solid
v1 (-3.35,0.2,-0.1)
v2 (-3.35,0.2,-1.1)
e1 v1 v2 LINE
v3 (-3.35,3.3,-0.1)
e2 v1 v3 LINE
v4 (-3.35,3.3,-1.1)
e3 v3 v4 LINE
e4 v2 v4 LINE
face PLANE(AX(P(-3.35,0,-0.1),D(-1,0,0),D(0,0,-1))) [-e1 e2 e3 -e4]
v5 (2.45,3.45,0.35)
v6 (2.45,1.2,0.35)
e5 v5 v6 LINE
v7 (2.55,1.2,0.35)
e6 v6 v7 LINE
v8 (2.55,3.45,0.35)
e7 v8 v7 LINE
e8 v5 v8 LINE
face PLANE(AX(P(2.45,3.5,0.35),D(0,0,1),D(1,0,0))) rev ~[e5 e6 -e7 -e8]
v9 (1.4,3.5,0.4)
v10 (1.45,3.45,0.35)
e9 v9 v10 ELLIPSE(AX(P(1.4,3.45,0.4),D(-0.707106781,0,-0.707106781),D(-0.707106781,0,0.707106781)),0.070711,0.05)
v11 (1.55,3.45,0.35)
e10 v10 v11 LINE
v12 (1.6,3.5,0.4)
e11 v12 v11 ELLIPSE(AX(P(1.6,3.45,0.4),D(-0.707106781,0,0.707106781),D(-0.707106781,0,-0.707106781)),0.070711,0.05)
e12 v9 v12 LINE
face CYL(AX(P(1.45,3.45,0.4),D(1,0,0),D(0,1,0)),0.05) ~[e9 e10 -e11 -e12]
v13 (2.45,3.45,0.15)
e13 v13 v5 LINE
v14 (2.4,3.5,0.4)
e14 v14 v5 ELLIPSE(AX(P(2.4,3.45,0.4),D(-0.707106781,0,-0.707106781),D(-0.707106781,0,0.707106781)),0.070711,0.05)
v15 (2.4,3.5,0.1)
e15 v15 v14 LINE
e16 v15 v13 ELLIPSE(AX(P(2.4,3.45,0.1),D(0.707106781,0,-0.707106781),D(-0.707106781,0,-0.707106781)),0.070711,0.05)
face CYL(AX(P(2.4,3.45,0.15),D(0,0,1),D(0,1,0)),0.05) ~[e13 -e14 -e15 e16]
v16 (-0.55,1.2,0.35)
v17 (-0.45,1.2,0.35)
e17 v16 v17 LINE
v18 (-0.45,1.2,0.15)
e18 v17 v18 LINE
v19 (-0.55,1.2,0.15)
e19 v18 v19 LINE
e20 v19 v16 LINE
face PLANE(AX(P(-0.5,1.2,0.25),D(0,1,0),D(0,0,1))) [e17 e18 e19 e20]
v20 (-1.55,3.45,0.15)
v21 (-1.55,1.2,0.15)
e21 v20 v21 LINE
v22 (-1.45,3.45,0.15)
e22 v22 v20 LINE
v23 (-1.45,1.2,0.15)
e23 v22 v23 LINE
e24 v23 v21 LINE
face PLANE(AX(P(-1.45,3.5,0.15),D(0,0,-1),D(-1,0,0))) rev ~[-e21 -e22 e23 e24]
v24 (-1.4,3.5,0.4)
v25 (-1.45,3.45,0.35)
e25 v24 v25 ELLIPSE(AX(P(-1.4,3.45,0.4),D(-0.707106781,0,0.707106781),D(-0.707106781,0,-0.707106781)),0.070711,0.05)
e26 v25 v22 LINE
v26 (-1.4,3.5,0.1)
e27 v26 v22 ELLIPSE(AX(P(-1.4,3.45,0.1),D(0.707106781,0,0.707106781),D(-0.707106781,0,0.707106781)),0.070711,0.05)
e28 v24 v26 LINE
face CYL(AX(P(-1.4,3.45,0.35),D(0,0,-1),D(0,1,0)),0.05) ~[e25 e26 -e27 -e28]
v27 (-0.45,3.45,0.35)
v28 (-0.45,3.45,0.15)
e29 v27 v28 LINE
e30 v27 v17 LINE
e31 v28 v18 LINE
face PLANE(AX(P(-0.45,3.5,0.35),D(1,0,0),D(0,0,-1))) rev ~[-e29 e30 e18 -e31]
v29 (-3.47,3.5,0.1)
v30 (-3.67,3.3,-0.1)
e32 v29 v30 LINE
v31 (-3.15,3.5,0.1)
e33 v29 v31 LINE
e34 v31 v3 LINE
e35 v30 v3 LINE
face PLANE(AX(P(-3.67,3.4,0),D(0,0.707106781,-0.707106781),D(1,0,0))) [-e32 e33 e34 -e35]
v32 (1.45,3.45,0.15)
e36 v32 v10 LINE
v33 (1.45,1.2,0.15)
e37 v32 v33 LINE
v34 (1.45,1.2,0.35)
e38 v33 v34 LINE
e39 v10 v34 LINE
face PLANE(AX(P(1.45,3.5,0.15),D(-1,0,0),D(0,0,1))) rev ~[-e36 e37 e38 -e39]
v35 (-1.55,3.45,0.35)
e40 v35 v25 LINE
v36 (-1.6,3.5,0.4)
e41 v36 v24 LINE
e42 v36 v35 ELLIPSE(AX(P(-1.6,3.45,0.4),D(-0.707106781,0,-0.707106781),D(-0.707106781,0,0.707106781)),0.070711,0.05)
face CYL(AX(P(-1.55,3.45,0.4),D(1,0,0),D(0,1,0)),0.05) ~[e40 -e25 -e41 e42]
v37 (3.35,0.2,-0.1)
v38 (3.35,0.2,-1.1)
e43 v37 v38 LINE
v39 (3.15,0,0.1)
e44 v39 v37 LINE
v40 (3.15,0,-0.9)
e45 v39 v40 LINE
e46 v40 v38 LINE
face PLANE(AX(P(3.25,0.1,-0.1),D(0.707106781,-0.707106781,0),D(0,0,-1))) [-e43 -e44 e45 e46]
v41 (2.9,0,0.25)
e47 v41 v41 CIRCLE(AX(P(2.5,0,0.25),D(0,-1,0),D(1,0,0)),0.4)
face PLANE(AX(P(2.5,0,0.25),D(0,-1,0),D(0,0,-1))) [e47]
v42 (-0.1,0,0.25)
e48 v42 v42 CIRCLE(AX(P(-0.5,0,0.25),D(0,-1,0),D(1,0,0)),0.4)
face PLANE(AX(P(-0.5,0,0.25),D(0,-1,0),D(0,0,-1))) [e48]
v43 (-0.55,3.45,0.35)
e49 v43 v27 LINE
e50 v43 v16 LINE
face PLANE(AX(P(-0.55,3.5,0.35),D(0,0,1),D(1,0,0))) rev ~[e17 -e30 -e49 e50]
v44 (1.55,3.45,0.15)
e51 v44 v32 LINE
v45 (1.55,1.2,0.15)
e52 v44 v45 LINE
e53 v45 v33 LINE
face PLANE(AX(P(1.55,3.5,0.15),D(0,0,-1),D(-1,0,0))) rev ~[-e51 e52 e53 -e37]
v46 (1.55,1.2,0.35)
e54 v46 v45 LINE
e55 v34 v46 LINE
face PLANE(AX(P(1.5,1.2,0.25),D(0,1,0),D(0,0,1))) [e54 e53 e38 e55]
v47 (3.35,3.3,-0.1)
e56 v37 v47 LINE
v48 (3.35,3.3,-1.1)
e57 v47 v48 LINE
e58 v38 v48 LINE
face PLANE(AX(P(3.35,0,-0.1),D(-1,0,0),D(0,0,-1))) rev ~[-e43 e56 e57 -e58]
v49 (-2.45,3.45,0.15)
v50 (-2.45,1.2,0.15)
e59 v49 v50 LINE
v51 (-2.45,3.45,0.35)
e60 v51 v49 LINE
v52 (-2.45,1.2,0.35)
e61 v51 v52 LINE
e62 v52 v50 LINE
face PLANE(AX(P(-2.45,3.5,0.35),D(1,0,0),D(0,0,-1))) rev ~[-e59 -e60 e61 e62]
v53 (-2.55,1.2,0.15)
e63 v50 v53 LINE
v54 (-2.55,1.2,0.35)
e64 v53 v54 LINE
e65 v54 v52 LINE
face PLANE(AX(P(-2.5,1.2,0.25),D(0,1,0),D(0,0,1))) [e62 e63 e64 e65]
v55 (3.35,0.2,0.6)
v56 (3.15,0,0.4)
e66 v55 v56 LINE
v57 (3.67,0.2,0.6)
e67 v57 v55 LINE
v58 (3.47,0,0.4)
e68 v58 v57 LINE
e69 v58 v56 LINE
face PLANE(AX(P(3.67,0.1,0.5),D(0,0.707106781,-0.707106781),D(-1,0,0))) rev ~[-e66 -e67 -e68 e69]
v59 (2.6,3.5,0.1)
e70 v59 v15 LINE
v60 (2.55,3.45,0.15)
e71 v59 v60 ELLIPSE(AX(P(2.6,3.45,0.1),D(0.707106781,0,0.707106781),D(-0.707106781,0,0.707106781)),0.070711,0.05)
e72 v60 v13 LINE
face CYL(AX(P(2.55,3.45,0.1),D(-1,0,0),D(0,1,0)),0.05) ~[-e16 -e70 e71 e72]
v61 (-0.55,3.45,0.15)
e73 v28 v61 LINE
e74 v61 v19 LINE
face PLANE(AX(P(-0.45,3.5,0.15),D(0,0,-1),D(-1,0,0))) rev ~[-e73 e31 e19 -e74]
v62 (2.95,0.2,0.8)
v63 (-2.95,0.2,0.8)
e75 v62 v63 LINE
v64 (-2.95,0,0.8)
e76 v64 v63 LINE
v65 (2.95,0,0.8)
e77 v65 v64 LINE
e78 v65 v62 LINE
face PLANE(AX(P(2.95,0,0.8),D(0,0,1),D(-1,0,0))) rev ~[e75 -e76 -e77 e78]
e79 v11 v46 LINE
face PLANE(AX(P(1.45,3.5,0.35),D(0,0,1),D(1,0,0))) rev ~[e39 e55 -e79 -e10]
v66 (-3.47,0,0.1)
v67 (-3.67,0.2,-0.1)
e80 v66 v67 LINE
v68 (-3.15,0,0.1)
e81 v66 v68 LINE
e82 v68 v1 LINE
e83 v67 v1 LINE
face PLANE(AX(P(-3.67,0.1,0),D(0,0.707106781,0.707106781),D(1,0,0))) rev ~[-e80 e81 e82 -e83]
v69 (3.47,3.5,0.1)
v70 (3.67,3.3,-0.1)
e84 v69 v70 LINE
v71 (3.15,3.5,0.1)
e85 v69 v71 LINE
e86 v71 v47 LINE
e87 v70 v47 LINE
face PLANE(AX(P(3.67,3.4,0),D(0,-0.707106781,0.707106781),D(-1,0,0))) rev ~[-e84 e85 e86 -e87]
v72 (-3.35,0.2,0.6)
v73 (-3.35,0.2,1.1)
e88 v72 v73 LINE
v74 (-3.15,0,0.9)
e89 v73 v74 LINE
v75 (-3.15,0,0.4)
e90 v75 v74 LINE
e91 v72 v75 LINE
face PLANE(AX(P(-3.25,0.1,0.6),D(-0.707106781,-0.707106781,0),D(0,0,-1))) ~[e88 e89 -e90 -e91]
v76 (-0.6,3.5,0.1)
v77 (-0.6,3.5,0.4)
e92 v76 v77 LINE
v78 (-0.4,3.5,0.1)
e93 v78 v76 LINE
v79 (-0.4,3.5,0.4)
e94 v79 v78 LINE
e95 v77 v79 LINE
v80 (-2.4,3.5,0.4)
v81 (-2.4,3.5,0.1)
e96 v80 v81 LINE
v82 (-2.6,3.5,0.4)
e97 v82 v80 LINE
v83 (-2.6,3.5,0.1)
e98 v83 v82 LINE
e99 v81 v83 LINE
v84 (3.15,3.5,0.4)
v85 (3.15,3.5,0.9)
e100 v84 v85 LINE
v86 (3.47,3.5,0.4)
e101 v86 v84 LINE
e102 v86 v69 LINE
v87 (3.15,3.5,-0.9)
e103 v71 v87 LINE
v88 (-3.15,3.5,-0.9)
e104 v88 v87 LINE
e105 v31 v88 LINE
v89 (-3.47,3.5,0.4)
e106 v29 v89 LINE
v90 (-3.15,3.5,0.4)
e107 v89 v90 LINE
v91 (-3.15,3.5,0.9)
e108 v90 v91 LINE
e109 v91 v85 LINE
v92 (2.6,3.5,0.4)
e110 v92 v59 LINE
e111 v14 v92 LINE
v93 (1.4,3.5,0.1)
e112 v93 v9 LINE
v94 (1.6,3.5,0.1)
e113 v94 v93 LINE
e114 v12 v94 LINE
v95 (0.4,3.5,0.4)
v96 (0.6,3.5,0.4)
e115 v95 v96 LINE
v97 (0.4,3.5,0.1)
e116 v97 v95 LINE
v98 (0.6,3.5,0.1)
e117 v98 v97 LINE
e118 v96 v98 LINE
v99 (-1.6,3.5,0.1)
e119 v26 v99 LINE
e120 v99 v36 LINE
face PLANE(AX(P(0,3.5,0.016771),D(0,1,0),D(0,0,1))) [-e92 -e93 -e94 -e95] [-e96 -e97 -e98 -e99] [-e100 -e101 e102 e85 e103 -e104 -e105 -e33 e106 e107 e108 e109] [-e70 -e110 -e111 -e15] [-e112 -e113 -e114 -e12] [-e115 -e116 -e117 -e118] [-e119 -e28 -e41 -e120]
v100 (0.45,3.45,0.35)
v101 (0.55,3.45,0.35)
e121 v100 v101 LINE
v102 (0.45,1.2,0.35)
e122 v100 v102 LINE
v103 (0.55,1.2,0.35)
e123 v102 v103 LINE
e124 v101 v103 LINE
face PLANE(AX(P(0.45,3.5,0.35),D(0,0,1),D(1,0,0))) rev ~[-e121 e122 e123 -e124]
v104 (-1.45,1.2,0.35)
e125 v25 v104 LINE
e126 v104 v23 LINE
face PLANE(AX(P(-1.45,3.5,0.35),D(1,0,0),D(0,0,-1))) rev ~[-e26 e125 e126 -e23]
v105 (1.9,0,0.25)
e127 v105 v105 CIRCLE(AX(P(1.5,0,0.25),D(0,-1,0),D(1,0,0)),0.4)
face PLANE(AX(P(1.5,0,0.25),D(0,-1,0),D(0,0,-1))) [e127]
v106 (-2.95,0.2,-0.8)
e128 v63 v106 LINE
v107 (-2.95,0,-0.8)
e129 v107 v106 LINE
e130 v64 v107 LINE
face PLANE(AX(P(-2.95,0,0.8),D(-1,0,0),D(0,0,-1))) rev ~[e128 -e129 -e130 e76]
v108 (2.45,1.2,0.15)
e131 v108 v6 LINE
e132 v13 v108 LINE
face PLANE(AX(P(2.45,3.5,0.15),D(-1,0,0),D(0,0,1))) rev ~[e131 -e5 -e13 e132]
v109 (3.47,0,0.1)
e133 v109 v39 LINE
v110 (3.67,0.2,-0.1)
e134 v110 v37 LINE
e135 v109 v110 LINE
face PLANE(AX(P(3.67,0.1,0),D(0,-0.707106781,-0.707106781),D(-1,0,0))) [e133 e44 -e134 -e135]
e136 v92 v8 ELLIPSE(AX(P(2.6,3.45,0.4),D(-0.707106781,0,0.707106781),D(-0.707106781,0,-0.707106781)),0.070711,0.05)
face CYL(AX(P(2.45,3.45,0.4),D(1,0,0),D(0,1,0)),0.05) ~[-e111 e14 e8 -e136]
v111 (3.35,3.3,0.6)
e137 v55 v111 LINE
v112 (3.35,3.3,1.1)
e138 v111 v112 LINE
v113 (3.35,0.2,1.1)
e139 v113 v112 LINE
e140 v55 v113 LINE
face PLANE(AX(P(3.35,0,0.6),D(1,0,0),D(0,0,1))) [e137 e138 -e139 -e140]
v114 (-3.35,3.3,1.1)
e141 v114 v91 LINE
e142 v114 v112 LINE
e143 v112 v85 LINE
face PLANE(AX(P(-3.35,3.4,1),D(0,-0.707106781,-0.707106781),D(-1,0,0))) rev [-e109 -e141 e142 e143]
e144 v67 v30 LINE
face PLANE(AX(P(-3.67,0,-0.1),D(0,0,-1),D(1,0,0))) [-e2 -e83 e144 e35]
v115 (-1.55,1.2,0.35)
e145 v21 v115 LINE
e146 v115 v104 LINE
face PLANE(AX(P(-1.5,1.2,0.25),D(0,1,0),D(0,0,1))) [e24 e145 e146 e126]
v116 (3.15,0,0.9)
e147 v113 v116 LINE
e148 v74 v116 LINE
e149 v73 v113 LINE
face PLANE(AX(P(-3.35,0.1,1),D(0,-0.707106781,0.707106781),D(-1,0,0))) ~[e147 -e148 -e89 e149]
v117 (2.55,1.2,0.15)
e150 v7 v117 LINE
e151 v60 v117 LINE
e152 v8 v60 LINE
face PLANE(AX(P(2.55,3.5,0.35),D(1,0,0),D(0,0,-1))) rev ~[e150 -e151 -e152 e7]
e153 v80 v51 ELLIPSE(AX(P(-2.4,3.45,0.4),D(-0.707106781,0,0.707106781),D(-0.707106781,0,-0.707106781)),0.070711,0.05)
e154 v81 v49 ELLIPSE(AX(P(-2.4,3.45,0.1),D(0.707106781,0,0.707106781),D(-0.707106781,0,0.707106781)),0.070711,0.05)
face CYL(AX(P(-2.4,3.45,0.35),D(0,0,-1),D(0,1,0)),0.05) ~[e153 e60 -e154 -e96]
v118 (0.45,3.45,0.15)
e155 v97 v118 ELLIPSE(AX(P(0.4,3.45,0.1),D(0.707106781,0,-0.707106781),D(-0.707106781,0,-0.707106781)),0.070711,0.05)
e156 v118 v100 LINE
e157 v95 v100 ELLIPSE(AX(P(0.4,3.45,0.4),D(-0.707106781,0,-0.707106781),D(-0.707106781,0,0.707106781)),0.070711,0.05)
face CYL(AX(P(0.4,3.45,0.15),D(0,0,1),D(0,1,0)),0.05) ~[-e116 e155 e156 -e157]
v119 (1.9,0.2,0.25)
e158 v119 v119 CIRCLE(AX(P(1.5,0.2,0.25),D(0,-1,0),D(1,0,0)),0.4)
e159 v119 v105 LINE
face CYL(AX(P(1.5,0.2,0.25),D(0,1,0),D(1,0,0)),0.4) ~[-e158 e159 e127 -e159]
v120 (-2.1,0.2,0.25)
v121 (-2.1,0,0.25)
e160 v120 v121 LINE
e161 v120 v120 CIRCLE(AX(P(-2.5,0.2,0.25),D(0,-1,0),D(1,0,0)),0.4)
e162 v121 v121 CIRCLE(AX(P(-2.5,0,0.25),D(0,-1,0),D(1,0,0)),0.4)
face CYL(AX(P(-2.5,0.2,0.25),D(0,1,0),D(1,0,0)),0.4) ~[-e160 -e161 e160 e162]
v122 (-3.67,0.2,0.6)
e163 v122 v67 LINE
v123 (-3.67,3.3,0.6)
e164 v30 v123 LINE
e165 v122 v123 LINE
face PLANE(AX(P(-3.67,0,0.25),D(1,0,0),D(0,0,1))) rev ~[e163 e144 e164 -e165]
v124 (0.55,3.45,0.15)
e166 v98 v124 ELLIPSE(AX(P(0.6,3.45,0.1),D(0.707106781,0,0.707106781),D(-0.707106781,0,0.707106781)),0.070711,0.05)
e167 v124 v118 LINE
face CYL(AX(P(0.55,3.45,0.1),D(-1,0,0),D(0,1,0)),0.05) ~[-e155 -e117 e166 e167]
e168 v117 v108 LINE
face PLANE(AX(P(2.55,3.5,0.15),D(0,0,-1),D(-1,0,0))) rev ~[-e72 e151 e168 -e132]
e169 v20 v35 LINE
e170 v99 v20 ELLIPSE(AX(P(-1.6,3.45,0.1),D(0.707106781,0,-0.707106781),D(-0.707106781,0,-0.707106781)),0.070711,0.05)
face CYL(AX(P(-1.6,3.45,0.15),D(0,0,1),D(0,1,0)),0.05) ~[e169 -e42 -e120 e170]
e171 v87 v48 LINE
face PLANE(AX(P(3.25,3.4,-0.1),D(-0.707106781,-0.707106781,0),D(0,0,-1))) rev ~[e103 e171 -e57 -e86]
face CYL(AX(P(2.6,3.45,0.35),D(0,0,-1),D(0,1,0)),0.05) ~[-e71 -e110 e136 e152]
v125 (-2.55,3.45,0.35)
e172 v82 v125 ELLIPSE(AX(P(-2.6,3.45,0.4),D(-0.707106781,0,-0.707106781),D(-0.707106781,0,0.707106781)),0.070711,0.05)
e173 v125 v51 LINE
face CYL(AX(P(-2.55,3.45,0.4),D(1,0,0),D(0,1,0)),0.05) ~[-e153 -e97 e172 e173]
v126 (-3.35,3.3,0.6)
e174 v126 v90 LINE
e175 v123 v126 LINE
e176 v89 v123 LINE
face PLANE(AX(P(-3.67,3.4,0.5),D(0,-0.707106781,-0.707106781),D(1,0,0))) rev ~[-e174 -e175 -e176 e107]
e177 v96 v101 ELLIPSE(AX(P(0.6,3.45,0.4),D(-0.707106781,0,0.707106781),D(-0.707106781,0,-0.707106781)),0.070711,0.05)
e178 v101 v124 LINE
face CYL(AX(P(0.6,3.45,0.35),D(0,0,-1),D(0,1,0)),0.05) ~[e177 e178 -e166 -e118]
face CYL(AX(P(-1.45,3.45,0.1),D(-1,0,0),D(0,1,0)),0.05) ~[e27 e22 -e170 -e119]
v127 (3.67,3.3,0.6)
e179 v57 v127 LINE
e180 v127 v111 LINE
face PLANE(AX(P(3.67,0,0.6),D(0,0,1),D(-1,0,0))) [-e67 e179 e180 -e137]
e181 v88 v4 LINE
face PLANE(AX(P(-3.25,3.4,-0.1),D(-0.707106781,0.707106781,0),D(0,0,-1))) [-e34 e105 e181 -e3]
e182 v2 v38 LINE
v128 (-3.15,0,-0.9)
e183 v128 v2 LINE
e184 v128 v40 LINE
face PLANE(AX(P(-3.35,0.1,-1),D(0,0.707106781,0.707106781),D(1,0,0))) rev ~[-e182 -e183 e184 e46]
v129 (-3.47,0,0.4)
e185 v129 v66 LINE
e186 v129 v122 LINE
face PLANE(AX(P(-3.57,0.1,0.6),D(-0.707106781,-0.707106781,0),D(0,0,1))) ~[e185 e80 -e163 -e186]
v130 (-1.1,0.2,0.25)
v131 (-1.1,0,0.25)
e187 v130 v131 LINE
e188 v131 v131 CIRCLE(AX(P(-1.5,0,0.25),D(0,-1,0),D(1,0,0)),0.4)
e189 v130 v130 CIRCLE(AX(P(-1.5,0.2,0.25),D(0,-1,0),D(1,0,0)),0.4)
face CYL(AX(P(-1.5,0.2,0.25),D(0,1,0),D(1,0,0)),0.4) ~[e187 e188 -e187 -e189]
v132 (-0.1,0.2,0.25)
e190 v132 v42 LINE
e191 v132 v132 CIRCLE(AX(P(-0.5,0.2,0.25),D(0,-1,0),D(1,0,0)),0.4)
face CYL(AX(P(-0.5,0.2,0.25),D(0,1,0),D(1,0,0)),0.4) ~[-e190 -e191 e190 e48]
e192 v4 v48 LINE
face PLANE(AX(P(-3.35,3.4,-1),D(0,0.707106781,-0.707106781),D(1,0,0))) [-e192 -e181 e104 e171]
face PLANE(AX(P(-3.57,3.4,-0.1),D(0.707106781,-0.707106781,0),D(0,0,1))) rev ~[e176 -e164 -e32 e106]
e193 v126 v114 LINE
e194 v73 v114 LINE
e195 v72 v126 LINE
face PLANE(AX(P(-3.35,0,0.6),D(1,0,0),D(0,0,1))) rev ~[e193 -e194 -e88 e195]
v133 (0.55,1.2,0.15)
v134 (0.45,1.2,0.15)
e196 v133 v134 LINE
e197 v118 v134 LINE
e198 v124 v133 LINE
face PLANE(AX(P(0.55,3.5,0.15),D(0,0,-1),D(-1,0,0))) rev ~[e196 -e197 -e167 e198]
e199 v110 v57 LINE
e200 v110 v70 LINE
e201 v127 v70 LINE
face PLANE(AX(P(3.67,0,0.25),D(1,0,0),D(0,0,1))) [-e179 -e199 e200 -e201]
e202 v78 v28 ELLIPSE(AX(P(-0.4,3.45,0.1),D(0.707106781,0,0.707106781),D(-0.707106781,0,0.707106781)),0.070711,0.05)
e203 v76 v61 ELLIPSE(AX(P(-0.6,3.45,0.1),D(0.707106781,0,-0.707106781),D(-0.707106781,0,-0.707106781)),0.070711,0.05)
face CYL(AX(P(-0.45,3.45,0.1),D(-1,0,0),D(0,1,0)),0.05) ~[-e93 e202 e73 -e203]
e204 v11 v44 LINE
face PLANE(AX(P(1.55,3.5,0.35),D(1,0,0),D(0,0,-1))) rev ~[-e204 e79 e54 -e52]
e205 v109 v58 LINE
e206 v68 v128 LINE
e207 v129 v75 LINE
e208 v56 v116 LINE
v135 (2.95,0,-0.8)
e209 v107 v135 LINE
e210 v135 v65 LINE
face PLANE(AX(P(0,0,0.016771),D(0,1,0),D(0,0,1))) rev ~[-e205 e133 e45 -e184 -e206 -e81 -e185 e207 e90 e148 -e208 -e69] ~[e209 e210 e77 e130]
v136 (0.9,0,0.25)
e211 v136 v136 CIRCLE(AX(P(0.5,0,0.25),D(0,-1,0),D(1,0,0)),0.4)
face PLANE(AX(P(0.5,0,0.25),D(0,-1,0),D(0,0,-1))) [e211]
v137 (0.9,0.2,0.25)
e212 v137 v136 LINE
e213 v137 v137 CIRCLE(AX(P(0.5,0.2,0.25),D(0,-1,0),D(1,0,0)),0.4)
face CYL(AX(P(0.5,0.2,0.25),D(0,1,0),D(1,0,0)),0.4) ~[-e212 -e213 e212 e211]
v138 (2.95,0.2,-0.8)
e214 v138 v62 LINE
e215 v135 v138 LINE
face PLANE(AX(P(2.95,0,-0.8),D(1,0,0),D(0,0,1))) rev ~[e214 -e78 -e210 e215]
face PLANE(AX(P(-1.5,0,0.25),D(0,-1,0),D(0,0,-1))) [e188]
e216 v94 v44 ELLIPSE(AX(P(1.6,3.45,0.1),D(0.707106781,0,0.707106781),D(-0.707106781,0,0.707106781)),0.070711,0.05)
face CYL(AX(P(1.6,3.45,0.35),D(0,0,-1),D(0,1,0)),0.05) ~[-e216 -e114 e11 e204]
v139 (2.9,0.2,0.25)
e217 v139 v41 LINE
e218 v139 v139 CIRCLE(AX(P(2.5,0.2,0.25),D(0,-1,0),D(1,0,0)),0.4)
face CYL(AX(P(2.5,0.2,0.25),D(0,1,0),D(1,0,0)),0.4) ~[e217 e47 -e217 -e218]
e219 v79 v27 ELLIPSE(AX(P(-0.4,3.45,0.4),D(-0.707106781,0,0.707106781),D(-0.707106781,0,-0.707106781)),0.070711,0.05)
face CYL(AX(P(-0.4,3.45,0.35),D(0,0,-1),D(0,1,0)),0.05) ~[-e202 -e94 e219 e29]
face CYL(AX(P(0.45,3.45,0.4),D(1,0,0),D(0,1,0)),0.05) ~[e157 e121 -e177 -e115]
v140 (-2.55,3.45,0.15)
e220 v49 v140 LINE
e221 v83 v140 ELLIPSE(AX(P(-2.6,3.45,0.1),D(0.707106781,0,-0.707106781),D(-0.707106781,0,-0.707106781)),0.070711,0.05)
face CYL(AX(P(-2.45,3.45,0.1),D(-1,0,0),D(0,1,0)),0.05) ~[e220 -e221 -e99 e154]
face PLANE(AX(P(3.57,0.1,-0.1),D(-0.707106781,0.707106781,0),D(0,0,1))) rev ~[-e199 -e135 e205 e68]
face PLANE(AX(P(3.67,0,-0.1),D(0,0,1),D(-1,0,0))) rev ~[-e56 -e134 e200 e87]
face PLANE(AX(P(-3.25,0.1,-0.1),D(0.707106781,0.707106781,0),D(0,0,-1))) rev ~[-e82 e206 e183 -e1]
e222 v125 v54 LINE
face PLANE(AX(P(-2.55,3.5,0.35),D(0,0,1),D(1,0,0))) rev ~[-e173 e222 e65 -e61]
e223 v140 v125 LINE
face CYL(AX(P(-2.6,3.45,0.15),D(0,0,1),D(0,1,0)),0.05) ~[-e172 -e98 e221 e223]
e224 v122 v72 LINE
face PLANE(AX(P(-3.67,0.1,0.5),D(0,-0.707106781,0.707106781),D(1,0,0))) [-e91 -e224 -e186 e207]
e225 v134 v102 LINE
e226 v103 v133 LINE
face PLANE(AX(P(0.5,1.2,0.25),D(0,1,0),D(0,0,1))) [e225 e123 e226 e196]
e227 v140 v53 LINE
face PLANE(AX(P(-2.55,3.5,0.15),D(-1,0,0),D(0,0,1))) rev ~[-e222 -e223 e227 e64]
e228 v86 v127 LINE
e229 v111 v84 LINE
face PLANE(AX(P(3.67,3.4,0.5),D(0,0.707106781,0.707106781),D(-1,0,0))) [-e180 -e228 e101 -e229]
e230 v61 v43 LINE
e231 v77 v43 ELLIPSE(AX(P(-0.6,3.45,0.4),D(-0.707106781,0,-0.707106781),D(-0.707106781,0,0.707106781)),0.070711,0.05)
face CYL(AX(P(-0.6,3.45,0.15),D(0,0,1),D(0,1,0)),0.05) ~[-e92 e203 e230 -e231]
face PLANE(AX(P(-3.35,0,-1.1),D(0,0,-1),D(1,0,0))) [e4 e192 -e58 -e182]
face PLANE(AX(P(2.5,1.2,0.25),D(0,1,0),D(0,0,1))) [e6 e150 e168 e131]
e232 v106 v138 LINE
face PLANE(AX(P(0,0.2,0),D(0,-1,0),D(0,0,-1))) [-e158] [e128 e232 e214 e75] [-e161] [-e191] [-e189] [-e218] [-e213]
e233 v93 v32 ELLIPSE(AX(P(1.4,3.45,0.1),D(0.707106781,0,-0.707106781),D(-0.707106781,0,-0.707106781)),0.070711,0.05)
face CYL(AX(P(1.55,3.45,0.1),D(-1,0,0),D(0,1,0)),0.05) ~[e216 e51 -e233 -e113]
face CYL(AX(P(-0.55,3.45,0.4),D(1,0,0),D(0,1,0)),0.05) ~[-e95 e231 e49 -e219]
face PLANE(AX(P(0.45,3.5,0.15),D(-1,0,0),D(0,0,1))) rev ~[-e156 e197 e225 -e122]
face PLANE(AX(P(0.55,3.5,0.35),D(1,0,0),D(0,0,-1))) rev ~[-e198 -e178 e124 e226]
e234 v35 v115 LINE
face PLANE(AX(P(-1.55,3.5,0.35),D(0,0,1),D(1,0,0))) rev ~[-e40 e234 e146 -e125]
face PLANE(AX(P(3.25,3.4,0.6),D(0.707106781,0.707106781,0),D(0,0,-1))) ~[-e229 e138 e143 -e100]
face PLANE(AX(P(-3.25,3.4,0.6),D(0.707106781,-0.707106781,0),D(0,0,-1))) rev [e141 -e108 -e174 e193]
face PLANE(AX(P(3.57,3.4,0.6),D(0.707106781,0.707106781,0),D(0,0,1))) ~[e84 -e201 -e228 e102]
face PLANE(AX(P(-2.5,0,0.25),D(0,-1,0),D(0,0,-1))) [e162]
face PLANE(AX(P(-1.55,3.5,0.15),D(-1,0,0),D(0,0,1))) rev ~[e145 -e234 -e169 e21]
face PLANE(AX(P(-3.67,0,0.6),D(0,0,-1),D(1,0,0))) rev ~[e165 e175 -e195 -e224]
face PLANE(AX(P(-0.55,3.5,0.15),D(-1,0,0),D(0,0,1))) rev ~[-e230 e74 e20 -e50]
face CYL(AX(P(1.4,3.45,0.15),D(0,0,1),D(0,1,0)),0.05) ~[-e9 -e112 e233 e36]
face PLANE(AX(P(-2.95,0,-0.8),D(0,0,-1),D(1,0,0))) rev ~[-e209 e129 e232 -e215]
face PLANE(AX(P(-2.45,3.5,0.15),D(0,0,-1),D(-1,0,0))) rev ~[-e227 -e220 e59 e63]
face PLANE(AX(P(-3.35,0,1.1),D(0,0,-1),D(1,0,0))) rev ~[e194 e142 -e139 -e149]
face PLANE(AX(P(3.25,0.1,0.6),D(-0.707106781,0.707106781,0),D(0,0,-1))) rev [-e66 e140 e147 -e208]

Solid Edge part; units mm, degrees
sketch "Sketch1" plane through (0, 0, 0) normal (0, -1, 0) x (1, 0, 0)
  line L0 (-3.35, 1.1) -> (3.35, 1.1)
  line L1 (3.35, 0.6) -> (3.35, 1.1)
  line L2 (3.67, 0.6) -> (3.35, 0.6)
  line L3 (3.67, 0.25) -> (3.67, 0.6)
  line L4 (3.67, 0.25) -> (3.67, -0.1)
  line L5 (3.67, -0.1) -> (3.35, -0.1)
  line L6 (3.35, -0.1) -> (3.35, -1.1)
  line L7 (-3.35, -1.1) -> (3.35, -1.1)
  line L8 (-3.35, -0.1) -> (-3.35, -1.1)
  line L9 (-3.67, -0.1) -> (-3.35, -0.1)
  line L10 (-3.67, 0.25) -> (-3.67, -0.1)
  line L11 (-3.67, 0.25) -> (-3.67, 0.6)
  line L12 (-3.67, 0.6) -> (-3.35, 0.6)
  line L13 (-3.35, 0.6) -> (-3.35, 1.1)
extrude "Protrusion1" add sketch "Sketch1" against normal blind 3.5
sketch "Sketch2" plane through (0, 0, 0) normal (0, -1, 0) x (1, 0, 0)
  line L0 (2.95, 0.8) -> (-2.95, 0.8)
  line L1 (-2.95, 0.8) -> (-2.95, -0.8)
  line L2 (-2.95, -0.8) -> (2.95, -0.8)
  line L3 (2.95, -0.8) -> (2.95, 0.8)
extrude "BackSide_Hole_Cutout" cut sketch "Sketch2" against normal blind 0.2
sketch "Sketch3" plane through (0, 3.5, 0) normal (0, 1, 0) x (-1, 0, 0)
  line L0 (-2.45, 0.15) -> (-2.45, 0.35)
  line L1 (-2.45, 0.35) -> (-2.55, 0.35)
  line L2 (-2.55, 0.35) -> (-2.55, 0.15)
  line L3 (-2.55, 0.15) -> (-2.45, 0.15)
extrude "Pin_Cutout_Instance" cut sketch "Sketch3" against normal blind 2.3
chamfer "Chamfered_Edges" distance 0.2 angle 45 24 edges at (3.67, 3.5, 0.25) (-3.67, 3.5, 0.25) (-3.35, 3.5, 0.85) (3.35, 3.5, 0.85) (3.35, 3.5, -0.6) (0, 3.5, -1.1) (0, 3.5, 1.1) (3.51, 3.5, 0.6) (3.51, 3.5, -0.1) (-3.35, 3.5, -0.6) (-3.51, 3.5, -0.1) (-3.51, 3.5, 0.6) (3.35, 0, -0.6) (3.67, 0, 0.25) (3.35, 0, 0.85) (-3.35, 0, -0.6) (-3.67, 0, 0.25) (-3.35, 0, 0.85) (-3.51, 0, -0.1) (-3.51, 0, 0.6) (3.51, 0, 0.6) (3.51, 0, -0.1) (0, 0, 1.1) (0, 0, -1.1)
fillet "Round_Edges_Pin_Hole" radius 0.05 4 edges at (2.5, 3.5, 0.15) (2.45, 3.5, 0.25) (2.55, 3.5, 0.25) (2.5, 3.5, 0.35)
pattern_linear "Pattern1" count 6 spacing 1 along (-1, 0, 0) of "Pin_Cutout_Instance", "Round_Edges_Pin_Hole"
sketch "Sketch4" plane through (0, 0.2, 0) normal (0, -1, 0) x (1, 0, 0)
  circle A0 centre (-2.5, 0.25) radius 0.4
  circle A1 centre (-1.5, 0.25) radius 0.4
  circle A2 centre (-0.5, 0.25) radius 0.4
  circle A3 centre (0.5, 0.25) radius 0.4
  circle A4 centre (1.5, 0.25) radius 0.4
  circle A5 centre (2.5, 0.25) radius 0.4
  dimension "D1" = 0.8
  dimension "D2" = 0.8
  dimension "D3" = 0.8
  dimension "D4" = 0.8
  dimension "D5" = 0.8
  dimension "D6" = 0.8
extrude "Cable_Endings_Protruded" add sketch "Sketch4" along normal blind 0.2
properties material "ABS Plastic, high impact"
